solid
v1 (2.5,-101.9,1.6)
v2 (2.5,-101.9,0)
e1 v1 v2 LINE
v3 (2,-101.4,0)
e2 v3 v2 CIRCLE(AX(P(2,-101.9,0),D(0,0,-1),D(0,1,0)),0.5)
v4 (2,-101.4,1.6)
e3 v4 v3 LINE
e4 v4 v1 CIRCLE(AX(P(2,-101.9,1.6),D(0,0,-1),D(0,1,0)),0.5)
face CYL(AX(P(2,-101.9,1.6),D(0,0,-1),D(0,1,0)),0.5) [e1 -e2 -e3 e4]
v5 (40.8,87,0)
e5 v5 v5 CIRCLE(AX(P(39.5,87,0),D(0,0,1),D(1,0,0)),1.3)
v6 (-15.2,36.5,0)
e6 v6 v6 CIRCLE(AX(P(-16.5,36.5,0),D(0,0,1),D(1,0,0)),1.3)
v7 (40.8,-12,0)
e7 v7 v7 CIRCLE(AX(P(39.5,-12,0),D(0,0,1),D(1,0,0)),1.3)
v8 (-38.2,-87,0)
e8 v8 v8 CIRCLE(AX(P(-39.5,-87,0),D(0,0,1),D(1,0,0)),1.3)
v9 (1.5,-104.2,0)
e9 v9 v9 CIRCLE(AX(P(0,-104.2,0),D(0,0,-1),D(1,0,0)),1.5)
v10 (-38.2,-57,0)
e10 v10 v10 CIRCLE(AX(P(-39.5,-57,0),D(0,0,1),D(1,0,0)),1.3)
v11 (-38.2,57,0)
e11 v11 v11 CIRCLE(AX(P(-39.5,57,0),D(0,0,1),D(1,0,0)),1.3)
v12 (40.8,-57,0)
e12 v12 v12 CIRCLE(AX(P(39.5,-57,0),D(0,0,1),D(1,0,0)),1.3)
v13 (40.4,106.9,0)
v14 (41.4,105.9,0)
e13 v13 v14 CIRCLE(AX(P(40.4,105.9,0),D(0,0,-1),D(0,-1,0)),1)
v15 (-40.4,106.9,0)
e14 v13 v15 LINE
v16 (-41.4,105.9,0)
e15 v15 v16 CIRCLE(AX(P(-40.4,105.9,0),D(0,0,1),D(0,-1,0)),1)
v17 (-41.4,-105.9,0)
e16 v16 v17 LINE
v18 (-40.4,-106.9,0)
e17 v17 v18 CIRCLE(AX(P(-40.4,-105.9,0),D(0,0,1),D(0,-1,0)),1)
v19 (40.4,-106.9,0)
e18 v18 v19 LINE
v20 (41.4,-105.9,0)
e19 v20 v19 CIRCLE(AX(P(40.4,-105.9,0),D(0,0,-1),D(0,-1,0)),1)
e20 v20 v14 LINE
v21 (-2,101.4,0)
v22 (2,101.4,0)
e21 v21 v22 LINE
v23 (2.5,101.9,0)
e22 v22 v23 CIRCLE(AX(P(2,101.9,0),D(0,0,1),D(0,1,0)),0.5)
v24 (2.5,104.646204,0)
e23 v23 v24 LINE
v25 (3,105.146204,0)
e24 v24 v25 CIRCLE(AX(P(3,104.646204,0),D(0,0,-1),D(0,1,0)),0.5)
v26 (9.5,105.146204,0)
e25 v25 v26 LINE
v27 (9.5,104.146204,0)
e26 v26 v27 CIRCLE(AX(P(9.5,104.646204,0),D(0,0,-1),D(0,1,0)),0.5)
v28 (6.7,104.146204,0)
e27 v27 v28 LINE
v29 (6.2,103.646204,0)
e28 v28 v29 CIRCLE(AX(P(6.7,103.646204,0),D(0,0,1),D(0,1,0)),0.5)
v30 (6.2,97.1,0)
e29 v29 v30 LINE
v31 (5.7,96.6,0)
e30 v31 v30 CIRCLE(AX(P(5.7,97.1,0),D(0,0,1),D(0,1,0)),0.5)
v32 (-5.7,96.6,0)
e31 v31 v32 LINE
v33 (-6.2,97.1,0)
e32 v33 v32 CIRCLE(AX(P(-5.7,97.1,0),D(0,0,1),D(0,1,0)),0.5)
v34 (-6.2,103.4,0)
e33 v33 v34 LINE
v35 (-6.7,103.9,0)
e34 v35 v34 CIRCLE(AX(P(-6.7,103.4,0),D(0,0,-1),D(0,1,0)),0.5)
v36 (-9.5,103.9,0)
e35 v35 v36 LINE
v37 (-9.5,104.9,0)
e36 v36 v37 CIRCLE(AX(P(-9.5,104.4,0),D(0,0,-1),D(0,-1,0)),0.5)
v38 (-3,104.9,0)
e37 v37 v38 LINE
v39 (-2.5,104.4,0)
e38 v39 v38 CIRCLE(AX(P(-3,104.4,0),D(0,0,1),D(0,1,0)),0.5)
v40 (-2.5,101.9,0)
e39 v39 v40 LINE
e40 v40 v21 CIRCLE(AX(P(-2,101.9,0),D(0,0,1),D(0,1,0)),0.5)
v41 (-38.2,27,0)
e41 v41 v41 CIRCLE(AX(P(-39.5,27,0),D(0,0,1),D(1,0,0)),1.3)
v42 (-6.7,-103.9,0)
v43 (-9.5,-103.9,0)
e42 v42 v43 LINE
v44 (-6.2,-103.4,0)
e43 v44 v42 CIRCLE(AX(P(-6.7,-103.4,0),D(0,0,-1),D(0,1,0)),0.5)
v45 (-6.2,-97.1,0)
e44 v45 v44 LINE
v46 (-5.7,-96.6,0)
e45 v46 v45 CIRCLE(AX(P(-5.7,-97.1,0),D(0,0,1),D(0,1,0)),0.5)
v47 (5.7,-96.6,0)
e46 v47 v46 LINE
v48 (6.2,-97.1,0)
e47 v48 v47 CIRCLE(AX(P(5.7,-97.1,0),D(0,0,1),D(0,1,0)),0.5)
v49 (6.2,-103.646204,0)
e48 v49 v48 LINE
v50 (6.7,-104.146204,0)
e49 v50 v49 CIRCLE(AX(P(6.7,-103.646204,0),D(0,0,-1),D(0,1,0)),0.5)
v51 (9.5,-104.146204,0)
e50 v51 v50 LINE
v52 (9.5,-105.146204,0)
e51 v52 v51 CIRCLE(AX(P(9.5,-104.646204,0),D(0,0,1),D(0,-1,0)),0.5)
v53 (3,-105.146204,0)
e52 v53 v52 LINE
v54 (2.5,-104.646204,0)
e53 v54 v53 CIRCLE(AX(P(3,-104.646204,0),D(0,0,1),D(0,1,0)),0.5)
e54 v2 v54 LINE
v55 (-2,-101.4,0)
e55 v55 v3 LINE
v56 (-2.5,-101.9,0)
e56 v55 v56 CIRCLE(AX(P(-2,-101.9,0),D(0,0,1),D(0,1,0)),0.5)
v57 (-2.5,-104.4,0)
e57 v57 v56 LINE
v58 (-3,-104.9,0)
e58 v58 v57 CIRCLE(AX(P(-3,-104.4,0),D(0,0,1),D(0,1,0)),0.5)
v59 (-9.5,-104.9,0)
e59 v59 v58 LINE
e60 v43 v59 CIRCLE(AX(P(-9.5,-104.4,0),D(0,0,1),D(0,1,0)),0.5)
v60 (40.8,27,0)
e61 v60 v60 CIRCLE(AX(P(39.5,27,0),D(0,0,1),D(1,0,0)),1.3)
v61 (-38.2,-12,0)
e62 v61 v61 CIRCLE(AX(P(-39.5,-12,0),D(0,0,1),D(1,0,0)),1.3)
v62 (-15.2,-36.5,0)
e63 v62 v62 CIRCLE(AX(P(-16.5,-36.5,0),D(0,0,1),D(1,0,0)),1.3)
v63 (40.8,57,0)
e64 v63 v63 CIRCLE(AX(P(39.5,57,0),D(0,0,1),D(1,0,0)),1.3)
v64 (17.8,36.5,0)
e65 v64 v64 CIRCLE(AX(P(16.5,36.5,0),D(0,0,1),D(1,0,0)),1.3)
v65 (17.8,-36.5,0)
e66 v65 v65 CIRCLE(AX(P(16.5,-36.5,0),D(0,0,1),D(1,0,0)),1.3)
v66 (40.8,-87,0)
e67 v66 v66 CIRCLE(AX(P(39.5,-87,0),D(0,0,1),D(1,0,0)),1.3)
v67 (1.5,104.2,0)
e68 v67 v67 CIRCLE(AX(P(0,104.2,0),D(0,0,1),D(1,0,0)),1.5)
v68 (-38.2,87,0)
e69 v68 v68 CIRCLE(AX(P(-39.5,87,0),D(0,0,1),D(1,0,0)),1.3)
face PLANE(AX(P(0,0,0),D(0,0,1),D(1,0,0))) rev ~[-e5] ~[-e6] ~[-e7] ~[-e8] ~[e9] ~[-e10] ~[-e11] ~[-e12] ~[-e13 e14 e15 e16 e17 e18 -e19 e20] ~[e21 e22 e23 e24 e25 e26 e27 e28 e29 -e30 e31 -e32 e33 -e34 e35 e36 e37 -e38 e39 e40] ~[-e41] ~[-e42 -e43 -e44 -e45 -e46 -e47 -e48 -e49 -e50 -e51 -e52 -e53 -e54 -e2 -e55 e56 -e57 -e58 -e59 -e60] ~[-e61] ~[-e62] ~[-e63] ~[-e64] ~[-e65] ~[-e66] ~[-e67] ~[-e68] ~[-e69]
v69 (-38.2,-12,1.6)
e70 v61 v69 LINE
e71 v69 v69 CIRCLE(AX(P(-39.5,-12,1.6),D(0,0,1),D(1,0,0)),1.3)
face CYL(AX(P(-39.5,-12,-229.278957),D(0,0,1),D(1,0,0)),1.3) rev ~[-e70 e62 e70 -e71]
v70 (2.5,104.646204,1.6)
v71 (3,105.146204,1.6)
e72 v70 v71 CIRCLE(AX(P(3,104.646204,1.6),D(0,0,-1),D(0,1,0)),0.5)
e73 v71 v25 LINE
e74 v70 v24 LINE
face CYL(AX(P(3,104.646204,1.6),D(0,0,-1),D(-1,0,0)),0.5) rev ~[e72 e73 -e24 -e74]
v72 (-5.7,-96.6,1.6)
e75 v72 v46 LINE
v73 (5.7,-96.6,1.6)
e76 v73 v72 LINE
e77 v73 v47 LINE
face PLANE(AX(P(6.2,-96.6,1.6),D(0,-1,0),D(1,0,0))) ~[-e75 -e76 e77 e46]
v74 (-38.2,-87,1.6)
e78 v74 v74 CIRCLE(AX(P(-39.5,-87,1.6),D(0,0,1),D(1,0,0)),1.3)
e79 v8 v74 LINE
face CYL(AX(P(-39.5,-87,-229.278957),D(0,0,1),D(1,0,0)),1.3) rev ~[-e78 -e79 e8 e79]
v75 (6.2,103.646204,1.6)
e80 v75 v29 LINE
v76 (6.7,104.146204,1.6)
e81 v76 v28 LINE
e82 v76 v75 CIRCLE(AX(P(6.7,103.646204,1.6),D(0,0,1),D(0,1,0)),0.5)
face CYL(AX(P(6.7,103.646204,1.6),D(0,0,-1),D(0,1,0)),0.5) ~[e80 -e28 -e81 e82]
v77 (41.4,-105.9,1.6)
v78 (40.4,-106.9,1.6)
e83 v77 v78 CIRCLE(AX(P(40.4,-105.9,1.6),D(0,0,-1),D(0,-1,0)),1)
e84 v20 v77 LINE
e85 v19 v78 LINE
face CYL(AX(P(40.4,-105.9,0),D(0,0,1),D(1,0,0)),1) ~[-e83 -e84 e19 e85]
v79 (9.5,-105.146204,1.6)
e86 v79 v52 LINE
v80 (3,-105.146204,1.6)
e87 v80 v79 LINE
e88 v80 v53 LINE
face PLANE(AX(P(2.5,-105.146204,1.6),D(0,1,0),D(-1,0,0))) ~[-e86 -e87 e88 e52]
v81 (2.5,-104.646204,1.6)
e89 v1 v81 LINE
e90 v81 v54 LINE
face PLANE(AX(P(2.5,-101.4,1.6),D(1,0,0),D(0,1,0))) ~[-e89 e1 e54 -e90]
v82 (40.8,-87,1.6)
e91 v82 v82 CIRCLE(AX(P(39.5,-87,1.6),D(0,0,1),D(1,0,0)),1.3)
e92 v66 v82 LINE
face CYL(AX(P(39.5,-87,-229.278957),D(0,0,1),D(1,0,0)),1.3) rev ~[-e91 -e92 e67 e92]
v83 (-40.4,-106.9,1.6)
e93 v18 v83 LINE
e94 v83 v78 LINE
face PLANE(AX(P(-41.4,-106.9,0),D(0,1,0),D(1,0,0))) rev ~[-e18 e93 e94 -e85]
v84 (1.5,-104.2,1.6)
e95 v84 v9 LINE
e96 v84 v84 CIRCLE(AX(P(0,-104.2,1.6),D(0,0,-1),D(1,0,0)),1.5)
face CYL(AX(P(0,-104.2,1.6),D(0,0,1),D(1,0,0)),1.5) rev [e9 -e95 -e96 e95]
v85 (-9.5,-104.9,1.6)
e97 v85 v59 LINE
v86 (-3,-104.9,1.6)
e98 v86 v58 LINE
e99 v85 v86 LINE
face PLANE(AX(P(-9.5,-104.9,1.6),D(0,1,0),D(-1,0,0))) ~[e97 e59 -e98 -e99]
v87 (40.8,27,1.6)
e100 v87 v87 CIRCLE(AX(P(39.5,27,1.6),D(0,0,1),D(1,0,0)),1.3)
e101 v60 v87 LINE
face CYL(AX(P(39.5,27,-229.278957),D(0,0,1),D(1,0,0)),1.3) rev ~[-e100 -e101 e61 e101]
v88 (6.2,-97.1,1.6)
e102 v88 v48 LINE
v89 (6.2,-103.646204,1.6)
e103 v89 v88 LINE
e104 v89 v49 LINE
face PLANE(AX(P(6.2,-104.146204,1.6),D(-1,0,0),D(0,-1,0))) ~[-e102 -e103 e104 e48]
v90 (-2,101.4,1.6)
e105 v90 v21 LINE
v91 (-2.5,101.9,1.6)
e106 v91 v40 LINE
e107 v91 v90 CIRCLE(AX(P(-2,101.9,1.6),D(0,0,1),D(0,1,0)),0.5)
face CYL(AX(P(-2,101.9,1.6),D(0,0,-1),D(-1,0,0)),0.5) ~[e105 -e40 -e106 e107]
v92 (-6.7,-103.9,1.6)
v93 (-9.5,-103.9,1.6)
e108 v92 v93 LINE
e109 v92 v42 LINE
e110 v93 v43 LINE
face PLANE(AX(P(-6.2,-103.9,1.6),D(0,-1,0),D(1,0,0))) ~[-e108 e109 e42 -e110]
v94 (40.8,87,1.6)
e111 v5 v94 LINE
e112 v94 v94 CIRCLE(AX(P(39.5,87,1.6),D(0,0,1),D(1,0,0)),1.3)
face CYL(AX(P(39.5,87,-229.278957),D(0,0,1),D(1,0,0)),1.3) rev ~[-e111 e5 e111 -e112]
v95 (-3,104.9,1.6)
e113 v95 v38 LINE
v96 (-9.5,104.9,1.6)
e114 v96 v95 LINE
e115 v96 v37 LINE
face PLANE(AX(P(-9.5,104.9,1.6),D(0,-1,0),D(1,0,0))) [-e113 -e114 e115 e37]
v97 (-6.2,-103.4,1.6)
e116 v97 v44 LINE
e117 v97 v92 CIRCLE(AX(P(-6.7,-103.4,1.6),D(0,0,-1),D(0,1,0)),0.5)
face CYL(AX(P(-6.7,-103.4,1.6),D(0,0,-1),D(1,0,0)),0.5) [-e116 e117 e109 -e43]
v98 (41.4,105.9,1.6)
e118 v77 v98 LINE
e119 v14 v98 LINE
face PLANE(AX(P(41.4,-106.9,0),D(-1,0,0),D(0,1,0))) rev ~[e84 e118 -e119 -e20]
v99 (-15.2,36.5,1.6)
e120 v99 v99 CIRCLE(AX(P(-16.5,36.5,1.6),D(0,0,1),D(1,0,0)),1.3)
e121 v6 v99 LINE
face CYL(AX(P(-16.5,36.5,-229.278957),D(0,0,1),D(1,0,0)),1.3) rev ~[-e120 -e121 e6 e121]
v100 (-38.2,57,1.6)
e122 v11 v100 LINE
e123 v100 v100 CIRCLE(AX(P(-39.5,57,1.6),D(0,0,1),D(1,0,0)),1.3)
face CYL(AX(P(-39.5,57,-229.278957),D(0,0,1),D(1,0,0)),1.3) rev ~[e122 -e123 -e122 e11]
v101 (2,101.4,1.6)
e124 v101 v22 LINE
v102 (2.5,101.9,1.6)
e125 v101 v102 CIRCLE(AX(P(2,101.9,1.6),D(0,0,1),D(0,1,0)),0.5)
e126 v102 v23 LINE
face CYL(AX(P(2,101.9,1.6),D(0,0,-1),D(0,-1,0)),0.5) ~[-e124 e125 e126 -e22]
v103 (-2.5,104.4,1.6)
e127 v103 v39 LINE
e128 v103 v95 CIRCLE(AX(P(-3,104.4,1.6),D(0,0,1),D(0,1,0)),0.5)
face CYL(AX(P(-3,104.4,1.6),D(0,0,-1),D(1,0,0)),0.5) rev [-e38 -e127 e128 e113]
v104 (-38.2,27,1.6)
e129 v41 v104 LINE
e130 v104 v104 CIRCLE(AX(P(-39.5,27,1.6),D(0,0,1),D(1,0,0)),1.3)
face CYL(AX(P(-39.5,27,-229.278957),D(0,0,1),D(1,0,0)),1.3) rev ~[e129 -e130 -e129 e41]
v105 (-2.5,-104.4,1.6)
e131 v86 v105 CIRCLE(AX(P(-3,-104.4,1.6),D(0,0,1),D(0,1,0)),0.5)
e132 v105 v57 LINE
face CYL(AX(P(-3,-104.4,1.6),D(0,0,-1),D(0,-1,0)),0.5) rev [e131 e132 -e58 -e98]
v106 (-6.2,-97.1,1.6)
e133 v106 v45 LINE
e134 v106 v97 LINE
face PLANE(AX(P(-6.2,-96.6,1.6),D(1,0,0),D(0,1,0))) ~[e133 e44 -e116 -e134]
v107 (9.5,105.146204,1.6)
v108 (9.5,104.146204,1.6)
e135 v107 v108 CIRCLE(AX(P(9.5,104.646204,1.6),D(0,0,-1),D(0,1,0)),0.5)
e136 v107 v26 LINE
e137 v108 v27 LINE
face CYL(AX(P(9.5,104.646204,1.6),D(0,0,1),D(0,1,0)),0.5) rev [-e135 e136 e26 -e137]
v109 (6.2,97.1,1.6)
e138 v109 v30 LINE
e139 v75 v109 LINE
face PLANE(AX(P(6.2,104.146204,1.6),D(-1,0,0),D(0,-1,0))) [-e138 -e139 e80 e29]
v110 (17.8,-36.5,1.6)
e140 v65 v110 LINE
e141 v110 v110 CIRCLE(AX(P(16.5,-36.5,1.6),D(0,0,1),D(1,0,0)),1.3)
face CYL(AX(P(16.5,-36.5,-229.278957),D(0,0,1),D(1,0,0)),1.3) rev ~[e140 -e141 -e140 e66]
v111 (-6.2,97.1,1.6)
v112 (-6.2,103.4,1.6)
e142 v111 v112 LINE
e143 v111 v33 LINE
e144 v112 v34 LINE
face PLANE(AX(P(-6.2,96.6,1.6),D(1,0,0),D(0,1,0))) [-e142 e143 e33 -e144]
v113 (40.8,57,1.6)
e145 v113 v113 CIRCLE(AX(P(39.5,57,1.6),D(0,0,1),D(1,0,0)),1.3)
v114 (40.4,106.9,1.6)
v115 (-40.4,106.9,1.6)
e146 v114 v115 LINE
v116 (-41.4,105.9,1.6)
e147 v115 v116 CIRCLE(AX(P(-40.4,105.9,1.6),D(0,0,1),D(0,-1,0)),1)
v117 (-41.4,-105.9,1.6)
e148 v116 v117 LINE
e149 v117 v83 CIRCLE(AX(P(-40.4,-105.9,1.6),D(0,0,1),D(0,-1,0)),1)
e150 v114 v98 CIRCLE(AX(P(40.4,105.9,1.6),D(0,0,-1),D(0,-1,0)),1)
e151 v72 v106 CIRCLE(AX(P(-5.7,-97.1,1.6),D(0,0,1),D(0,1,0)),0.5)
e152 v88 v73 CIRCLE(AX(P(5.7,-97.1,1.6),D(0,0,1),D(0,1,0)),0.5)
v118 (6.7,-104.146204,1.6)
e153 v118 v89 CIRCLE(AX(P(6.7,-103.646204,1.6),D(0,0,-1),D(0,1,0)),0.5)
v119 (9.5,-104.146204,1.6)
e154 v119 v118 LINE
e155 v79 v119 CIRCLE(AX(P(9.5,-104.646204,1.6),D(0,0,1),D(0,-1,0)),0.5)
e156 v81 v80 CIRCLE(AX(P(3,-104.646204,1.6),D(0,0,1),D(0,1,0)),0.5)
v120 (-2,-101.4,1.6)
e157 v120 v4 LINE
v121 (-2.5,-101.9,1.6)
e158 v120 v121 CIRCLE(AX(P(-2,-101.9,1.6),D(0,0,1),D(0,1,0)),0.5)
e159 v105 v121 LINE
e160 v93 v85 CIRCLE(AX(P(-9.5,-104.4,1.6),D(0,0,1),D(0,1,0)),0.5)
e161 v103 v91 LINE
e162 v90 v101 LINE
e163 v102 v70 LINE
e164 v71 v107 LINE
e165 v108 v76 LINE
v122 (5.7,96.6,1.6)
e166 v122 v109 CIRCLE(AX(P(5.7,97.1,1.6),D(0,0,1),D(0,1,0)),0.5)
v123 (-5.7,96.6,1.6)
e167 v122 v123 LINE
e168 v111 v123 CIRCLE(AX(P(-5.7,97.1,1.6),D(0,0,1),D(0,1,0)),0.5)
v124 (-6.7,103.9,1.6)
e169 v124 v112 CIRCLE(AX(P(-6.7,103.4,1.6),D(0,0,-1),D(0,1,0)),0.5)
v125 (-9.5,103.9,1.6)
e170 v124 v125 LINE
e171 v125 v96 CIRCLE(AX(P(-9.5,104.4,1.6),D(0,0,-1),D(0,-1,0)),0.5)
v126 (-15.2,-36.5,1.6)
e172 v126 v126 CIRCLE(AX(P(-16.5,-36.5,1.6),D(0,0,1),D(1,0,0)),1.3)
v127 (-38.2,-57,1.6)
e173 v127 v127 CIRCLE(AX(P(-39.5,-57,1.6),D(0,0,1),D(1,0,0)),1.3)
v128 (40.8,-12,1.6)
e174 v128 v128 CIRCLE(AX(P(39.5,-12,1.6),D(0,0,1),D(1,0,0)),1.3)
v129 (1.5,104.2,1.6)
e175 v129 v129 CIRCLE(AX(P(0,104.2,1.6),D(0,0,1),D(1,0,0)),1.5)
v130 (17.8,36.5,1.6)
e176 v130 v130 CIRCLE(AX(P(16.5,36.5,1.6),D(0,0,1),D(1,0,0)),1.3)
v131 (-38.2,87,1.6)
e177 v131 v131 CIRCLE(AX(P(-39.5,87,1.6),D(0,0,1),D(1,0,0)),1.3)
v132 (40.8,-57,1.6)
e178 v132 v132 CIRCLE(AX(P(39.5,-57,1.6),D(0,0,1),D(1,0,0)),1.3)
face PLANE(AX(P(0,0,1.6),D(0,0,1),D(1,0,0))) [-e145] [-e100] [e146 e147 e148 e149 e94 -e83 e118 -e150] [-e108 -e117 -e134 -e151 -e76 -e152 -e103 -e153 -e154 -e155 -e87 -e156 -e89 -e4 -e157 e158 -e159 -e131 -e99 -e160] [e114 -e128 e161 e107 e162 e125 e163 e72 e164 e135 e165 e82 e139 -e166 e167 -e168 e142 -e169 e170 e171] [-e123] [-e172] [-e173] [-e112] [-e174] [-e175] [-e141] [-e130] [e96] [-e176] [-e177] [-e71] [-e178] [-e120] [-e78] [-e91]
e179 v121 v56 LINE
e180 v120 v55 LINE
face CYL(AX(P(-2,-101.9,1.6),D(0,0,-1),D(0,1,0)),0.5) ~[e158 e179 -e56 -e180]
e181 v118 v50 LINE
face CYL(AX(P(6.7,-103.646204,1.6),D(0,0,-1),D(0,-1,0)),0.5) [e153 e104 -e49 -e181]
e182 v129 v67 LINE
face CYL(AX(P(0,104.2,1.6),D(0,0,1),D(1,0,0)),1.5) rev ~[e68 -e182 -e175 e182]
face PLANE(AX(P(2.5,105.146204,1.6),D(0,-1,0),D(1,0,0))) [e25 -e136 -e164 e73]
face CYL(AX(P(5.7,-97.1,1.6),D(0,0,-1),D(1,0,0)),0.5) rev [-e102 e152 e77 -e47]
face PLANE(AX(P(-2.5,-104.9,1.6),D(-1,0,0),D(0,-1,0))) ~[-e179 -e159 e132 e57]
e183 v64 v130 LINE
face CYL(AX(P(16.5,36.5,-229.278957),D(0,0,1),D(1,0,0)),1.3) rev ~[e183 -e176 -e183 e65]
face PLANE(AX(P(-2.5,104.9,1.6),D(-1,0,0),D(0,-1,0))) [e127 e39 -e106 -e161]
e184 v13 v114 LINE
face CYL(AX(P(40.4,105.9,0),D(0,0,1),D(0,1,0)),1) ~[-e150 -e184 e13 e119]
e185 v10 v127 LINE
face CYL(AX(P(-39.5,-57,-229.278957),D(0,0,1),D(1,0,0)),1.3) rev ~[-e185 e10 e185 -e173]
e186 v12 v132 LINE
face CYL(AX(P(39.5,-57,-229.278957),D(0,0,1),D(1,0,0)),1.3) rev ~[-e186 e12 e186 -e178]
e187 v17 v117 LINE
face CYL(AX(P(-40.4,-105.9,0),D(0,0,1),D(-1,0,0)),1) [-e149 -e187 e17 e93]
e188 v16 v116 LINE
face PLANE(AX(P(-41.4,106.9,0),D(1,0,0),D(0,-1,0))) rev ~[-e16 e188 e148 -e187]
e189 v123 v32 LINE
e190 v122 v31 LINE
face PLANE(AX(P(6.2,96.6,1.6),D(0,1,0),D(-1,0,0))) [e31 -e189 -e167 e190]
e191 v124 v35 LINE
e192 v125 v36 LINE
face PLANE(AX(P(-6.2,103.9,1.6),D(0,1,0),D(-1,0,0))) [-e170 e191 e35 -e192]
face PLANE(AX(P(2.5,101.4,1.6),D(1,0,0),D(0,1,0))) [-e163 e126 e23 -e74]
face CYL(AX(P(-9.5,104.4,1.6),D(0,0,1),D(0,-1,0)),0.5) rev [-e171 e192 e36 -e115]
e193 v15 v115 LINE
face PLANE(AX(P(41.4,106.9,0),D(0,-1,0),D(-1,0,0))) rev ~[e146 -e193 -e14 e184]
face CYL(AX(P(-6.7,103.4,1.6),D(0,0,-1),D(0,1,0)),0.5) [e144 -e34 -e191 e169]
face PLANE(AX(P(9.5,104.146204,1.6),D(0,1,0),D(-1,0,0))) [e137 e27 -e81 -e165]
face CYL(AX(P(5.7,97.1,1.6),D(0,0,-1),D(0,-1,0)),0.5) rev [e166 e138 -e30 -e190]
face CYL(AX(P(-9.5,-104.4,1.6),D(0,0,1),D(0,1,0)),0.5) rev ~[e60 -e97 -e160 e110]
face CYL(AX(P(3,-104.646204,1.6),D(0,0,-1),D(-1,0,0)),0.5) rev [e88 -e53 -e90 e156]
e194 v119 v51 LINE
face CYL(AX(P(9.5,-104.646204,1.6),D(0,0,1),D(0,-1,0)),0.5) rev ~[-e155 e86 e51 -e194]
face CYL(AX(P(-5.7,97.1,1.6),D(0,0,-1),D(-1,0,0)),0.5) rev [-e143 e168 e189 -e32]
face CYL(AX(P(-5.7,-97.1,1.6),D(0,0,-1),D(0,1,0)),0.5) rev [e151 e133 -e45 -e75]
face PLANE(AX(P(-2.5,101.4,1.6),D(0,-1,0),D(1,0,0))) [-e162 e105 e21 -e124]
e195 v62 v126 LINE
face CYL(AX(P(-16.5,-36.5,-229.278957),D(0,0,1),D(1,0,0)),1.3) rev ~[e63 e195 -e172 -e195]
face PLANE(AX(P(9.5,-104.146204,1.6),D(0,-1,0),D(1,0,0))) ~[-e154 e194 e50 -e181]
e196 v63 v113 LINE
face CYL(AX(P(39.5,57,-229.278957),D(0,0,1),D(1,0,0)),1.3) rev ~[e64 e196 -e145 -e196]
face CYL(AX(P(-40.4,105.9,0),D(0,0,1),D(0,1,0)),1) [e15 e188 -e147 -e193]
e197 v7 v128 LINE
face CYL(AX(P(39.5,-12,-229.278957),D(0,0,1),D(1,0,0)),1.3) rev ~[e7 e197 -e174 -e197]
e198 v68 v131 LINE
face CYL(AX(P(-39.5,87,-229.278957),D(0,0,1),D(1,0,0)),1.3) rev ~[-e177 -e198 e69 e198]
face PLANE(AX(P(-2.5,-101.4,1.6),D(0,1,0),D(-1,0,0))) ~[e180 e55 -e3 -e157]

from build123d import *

# Parameters (mm, degrees)
SKETCH1_R                = 0.8
PCB_EXTRUDE_DEPTH        = 1.6
CORNER_FILLETS_ON_PCB_R  = 1
SKETCH3_R                = 1.5
SOLAR_HOLE_DEPTH         = 1.6
FILLETS_FOR_SOLAR_HOLE_R = 0.5
M2_CLEARANCE_HOLE1_D     = 2.6


with BuildPart() as part:
    # Sketch1 → pcb extrude (new body)
    with BuildSketch(Plane.XY):
        Polygon((41.4, 99), (41.4, 106.9), (-41.4, 106.9), (-41.4, 99), (-41.4, 93.95), (-41.4, 88.45), (-41.4, 33.95), (-41.4, 28.45), (-41.4, -28.45), (-41.4, -33.95), (-41.4, -88.45), (-41.4, -93.95), (-41.4, -99), (-41.4, -106.9), (41.4, -106.9), (41.4, -99), (41.4, -93.95), (41.4, -88.45), (41.4, -33.95), (41.4, -28.45), (41.4, 28.45), (41.4, 33.95), (41.4, 88.45), (41.4, 93.95), align=None)
        with Locations((-39.5, -87)):
            Circle(SKETCH1_R, mode=Mode.SUBTRACT)
        with Locations((-39.5, -57)):
            Circle(SKETCH1_R, mode=Mode.SUBTRACT)
        with Locations((0, -104.2)):
            Circle(SKETCH1_R, mode=Mode.SUBTRACT)
        with Locations((-39.5, -12)):
            Circle(SKETCH1_R, mode=Mode.SUBTRACT)
        with Locations((-16.5, -36.5)):
            Circle(SKETCH1_R, mode=Mode.SUBTRACT)
        with Locations((39.5, -87)):
            Circle(SKETCH1_R, mode=Mode.SUBTRACT)
        with Locations((39.5, -57)):
            Circle(SKETCH1_R, mode=Mode.SUBTRACT)
        with Locations((16.5, -36.5)):
            Circle(SKETCH1_R, mode=Mode.SUBTRACT)
        with Locations((39.5, -12)):
            Circle(SKETCH1_R, mode=Mode.SUBTRACT)
        with Locations((-39.5, 27)):
            Circle(SKETCH1_R, mode=Mode.SUBTRACT)
        with Locations((-16.5, 36.5)):
            Circle(SKETCH1_R, mode=Mode.SUBTRACT)
        with Locations((-39.5, 57)):
            Circle(SKETCH1_R, mode=Mode.SUBTRACT)
        with Locations((-39.5, 87)):
            Circle(SKETCH1_R, mode=Mode.SUBTRACT)
        with Locations((0, 104.2)):
            Circle(SKETCH1_R, mode=Mode.SUBTRACT)
        with Locations((16.5, 36.5)):
            Circle(SKETCH1_R, mode=Mode.SUBTRACT)
        with Locations((39.5, 27)):
            Circle(SKETCH1_R, mode=Mode.SUBTRACT)
        with Locations((39.5, 57)):
            Circle(SKETCH1_R, mode=Mode.SUBTRACT)
        with Locations((39.5, 87)):
            Circle(SKETCH1_R, mode=Mode.SUBTRACT)
    extrude(amount=PCB_EXTRUDE_DEPTH)

    # corner fillets on PCB
    corner_fillets_on_pcb_edges = [part.edges().sort_by_distance(p)[0] for p in [
        (41.4, -106.9, 0.8),
        (-41.4, -106.9, 0.8),
        (-41.4, 106.9, 0.8),
        (41.4, 106.9, 0.8),
    ]]
    fillet(corner_fillets_on_pcb_edges, radius=CORNER_FILLETS_ON_PCB_R)

    # Sketch3 → Solar Hole (cut)
    with BuildSketch(Plane.XY.offset(1.6)):
        with Locations((0, 104.2)):
            Circle(SKETCH3_R)
        with BuildLine():
            Line((-2.5, 101.4), (2.5, 101.4))
            Line((2.5, 101.4), (2.5, 105.146203888))
            Line((2.5, 105.146203888), (9.5, 105.146203888))
            ThreePointArc((9.5, 105.146203888), (10, 104.646203888), (9.5, 104.146203888))
            Line((9.5, 104.146203888), (6.2, 104.146203888))
            Line((6.2, 104.146203888), (6.2, 101.646203888))
            Line((6.2, 101.646203888), (6.2, 96.6))
            Line((6.2, 96.6), (-6.2, 96.6))
            Line((-6.2, 96.6), (-6.2, 101.4))
            Line((-6.2, 101.4), (-6.2, 103.9))
            Line((-6.2, 103.9), (-9.5, 103.9))
            ThreePointArc((-9.5, 103.9), (-10, 104.4), (-9.5, 104.9))
            Line((-9.5, 104.9), (-2.5, 104.9))
            Line((-2.5, 104.9), (-2.5, 101.4))
        make_face()
    solar_hole = extrude(amount=-SOLAR_HOLE_DEPTH, mode=Mode.SUBTRACT)

    # Mirror solar hole: Solar Hole across plane
    add(solar_hole.mirror(Plane.ZX), mode=Mode.SUBTRACT)

    # fillets for solar hole
    fillets_for_solar_hole_edges = [part.edges().sort_by_distance(p)[0] for p in [
        (6.2, 96.6, 0.8),
        (-6.2, 96.6, 0.8),
        (-6.2, 103.9, 0.8),
        (-2.5, 104.9, 0.8),
        (-2.5, 101.4, 0.8),
        (2.5, 101.4, 0.8),
        (2.5, 105.146203888, 0.8),
        (6.2, 104.146203888, 0.8),
        (-6.2, -96.6, 0.8),
        (-6.2, -103.9, 0.8),
        (-2.5, -104.9, 0.8),
        (-2.5, -101.4, 0.8),
        (2.5, -101.4, 0.8),
        (2.5, -105.146203888, 0.8),
        (6.2, -104.146203888, 0.8),
        (6.2, -96.6, 0.8),
    ]]
    fillet(fillets_for_solar_hole_edges, radius=FILLETS_FOR_SOLAR_HOLE_R)

    # M2 Clearance Hole1 (through all)
    with Locations(Plane(origin=(0, 0, 0), x_dir=(-1, 0, 0), z_dir=(0, 0, -1))):
        with Locations((39.5, 87), (-39.5, 87), (16.5, 36.5), (-16.5, 36.5), (39.5, 57), (-39.5, 57), (39.5, 27), (-39.5, 27), (39.5, -12), (-39.5, -12), (39.5, -57), (16.5, -36.5), (-16.5, -36.5), (-39.5, -57), (-39.5, -87), (39.5, -87)):
            Hole(M2_CLEARANCE_HOLE1_D / 2)


solid = part.part
